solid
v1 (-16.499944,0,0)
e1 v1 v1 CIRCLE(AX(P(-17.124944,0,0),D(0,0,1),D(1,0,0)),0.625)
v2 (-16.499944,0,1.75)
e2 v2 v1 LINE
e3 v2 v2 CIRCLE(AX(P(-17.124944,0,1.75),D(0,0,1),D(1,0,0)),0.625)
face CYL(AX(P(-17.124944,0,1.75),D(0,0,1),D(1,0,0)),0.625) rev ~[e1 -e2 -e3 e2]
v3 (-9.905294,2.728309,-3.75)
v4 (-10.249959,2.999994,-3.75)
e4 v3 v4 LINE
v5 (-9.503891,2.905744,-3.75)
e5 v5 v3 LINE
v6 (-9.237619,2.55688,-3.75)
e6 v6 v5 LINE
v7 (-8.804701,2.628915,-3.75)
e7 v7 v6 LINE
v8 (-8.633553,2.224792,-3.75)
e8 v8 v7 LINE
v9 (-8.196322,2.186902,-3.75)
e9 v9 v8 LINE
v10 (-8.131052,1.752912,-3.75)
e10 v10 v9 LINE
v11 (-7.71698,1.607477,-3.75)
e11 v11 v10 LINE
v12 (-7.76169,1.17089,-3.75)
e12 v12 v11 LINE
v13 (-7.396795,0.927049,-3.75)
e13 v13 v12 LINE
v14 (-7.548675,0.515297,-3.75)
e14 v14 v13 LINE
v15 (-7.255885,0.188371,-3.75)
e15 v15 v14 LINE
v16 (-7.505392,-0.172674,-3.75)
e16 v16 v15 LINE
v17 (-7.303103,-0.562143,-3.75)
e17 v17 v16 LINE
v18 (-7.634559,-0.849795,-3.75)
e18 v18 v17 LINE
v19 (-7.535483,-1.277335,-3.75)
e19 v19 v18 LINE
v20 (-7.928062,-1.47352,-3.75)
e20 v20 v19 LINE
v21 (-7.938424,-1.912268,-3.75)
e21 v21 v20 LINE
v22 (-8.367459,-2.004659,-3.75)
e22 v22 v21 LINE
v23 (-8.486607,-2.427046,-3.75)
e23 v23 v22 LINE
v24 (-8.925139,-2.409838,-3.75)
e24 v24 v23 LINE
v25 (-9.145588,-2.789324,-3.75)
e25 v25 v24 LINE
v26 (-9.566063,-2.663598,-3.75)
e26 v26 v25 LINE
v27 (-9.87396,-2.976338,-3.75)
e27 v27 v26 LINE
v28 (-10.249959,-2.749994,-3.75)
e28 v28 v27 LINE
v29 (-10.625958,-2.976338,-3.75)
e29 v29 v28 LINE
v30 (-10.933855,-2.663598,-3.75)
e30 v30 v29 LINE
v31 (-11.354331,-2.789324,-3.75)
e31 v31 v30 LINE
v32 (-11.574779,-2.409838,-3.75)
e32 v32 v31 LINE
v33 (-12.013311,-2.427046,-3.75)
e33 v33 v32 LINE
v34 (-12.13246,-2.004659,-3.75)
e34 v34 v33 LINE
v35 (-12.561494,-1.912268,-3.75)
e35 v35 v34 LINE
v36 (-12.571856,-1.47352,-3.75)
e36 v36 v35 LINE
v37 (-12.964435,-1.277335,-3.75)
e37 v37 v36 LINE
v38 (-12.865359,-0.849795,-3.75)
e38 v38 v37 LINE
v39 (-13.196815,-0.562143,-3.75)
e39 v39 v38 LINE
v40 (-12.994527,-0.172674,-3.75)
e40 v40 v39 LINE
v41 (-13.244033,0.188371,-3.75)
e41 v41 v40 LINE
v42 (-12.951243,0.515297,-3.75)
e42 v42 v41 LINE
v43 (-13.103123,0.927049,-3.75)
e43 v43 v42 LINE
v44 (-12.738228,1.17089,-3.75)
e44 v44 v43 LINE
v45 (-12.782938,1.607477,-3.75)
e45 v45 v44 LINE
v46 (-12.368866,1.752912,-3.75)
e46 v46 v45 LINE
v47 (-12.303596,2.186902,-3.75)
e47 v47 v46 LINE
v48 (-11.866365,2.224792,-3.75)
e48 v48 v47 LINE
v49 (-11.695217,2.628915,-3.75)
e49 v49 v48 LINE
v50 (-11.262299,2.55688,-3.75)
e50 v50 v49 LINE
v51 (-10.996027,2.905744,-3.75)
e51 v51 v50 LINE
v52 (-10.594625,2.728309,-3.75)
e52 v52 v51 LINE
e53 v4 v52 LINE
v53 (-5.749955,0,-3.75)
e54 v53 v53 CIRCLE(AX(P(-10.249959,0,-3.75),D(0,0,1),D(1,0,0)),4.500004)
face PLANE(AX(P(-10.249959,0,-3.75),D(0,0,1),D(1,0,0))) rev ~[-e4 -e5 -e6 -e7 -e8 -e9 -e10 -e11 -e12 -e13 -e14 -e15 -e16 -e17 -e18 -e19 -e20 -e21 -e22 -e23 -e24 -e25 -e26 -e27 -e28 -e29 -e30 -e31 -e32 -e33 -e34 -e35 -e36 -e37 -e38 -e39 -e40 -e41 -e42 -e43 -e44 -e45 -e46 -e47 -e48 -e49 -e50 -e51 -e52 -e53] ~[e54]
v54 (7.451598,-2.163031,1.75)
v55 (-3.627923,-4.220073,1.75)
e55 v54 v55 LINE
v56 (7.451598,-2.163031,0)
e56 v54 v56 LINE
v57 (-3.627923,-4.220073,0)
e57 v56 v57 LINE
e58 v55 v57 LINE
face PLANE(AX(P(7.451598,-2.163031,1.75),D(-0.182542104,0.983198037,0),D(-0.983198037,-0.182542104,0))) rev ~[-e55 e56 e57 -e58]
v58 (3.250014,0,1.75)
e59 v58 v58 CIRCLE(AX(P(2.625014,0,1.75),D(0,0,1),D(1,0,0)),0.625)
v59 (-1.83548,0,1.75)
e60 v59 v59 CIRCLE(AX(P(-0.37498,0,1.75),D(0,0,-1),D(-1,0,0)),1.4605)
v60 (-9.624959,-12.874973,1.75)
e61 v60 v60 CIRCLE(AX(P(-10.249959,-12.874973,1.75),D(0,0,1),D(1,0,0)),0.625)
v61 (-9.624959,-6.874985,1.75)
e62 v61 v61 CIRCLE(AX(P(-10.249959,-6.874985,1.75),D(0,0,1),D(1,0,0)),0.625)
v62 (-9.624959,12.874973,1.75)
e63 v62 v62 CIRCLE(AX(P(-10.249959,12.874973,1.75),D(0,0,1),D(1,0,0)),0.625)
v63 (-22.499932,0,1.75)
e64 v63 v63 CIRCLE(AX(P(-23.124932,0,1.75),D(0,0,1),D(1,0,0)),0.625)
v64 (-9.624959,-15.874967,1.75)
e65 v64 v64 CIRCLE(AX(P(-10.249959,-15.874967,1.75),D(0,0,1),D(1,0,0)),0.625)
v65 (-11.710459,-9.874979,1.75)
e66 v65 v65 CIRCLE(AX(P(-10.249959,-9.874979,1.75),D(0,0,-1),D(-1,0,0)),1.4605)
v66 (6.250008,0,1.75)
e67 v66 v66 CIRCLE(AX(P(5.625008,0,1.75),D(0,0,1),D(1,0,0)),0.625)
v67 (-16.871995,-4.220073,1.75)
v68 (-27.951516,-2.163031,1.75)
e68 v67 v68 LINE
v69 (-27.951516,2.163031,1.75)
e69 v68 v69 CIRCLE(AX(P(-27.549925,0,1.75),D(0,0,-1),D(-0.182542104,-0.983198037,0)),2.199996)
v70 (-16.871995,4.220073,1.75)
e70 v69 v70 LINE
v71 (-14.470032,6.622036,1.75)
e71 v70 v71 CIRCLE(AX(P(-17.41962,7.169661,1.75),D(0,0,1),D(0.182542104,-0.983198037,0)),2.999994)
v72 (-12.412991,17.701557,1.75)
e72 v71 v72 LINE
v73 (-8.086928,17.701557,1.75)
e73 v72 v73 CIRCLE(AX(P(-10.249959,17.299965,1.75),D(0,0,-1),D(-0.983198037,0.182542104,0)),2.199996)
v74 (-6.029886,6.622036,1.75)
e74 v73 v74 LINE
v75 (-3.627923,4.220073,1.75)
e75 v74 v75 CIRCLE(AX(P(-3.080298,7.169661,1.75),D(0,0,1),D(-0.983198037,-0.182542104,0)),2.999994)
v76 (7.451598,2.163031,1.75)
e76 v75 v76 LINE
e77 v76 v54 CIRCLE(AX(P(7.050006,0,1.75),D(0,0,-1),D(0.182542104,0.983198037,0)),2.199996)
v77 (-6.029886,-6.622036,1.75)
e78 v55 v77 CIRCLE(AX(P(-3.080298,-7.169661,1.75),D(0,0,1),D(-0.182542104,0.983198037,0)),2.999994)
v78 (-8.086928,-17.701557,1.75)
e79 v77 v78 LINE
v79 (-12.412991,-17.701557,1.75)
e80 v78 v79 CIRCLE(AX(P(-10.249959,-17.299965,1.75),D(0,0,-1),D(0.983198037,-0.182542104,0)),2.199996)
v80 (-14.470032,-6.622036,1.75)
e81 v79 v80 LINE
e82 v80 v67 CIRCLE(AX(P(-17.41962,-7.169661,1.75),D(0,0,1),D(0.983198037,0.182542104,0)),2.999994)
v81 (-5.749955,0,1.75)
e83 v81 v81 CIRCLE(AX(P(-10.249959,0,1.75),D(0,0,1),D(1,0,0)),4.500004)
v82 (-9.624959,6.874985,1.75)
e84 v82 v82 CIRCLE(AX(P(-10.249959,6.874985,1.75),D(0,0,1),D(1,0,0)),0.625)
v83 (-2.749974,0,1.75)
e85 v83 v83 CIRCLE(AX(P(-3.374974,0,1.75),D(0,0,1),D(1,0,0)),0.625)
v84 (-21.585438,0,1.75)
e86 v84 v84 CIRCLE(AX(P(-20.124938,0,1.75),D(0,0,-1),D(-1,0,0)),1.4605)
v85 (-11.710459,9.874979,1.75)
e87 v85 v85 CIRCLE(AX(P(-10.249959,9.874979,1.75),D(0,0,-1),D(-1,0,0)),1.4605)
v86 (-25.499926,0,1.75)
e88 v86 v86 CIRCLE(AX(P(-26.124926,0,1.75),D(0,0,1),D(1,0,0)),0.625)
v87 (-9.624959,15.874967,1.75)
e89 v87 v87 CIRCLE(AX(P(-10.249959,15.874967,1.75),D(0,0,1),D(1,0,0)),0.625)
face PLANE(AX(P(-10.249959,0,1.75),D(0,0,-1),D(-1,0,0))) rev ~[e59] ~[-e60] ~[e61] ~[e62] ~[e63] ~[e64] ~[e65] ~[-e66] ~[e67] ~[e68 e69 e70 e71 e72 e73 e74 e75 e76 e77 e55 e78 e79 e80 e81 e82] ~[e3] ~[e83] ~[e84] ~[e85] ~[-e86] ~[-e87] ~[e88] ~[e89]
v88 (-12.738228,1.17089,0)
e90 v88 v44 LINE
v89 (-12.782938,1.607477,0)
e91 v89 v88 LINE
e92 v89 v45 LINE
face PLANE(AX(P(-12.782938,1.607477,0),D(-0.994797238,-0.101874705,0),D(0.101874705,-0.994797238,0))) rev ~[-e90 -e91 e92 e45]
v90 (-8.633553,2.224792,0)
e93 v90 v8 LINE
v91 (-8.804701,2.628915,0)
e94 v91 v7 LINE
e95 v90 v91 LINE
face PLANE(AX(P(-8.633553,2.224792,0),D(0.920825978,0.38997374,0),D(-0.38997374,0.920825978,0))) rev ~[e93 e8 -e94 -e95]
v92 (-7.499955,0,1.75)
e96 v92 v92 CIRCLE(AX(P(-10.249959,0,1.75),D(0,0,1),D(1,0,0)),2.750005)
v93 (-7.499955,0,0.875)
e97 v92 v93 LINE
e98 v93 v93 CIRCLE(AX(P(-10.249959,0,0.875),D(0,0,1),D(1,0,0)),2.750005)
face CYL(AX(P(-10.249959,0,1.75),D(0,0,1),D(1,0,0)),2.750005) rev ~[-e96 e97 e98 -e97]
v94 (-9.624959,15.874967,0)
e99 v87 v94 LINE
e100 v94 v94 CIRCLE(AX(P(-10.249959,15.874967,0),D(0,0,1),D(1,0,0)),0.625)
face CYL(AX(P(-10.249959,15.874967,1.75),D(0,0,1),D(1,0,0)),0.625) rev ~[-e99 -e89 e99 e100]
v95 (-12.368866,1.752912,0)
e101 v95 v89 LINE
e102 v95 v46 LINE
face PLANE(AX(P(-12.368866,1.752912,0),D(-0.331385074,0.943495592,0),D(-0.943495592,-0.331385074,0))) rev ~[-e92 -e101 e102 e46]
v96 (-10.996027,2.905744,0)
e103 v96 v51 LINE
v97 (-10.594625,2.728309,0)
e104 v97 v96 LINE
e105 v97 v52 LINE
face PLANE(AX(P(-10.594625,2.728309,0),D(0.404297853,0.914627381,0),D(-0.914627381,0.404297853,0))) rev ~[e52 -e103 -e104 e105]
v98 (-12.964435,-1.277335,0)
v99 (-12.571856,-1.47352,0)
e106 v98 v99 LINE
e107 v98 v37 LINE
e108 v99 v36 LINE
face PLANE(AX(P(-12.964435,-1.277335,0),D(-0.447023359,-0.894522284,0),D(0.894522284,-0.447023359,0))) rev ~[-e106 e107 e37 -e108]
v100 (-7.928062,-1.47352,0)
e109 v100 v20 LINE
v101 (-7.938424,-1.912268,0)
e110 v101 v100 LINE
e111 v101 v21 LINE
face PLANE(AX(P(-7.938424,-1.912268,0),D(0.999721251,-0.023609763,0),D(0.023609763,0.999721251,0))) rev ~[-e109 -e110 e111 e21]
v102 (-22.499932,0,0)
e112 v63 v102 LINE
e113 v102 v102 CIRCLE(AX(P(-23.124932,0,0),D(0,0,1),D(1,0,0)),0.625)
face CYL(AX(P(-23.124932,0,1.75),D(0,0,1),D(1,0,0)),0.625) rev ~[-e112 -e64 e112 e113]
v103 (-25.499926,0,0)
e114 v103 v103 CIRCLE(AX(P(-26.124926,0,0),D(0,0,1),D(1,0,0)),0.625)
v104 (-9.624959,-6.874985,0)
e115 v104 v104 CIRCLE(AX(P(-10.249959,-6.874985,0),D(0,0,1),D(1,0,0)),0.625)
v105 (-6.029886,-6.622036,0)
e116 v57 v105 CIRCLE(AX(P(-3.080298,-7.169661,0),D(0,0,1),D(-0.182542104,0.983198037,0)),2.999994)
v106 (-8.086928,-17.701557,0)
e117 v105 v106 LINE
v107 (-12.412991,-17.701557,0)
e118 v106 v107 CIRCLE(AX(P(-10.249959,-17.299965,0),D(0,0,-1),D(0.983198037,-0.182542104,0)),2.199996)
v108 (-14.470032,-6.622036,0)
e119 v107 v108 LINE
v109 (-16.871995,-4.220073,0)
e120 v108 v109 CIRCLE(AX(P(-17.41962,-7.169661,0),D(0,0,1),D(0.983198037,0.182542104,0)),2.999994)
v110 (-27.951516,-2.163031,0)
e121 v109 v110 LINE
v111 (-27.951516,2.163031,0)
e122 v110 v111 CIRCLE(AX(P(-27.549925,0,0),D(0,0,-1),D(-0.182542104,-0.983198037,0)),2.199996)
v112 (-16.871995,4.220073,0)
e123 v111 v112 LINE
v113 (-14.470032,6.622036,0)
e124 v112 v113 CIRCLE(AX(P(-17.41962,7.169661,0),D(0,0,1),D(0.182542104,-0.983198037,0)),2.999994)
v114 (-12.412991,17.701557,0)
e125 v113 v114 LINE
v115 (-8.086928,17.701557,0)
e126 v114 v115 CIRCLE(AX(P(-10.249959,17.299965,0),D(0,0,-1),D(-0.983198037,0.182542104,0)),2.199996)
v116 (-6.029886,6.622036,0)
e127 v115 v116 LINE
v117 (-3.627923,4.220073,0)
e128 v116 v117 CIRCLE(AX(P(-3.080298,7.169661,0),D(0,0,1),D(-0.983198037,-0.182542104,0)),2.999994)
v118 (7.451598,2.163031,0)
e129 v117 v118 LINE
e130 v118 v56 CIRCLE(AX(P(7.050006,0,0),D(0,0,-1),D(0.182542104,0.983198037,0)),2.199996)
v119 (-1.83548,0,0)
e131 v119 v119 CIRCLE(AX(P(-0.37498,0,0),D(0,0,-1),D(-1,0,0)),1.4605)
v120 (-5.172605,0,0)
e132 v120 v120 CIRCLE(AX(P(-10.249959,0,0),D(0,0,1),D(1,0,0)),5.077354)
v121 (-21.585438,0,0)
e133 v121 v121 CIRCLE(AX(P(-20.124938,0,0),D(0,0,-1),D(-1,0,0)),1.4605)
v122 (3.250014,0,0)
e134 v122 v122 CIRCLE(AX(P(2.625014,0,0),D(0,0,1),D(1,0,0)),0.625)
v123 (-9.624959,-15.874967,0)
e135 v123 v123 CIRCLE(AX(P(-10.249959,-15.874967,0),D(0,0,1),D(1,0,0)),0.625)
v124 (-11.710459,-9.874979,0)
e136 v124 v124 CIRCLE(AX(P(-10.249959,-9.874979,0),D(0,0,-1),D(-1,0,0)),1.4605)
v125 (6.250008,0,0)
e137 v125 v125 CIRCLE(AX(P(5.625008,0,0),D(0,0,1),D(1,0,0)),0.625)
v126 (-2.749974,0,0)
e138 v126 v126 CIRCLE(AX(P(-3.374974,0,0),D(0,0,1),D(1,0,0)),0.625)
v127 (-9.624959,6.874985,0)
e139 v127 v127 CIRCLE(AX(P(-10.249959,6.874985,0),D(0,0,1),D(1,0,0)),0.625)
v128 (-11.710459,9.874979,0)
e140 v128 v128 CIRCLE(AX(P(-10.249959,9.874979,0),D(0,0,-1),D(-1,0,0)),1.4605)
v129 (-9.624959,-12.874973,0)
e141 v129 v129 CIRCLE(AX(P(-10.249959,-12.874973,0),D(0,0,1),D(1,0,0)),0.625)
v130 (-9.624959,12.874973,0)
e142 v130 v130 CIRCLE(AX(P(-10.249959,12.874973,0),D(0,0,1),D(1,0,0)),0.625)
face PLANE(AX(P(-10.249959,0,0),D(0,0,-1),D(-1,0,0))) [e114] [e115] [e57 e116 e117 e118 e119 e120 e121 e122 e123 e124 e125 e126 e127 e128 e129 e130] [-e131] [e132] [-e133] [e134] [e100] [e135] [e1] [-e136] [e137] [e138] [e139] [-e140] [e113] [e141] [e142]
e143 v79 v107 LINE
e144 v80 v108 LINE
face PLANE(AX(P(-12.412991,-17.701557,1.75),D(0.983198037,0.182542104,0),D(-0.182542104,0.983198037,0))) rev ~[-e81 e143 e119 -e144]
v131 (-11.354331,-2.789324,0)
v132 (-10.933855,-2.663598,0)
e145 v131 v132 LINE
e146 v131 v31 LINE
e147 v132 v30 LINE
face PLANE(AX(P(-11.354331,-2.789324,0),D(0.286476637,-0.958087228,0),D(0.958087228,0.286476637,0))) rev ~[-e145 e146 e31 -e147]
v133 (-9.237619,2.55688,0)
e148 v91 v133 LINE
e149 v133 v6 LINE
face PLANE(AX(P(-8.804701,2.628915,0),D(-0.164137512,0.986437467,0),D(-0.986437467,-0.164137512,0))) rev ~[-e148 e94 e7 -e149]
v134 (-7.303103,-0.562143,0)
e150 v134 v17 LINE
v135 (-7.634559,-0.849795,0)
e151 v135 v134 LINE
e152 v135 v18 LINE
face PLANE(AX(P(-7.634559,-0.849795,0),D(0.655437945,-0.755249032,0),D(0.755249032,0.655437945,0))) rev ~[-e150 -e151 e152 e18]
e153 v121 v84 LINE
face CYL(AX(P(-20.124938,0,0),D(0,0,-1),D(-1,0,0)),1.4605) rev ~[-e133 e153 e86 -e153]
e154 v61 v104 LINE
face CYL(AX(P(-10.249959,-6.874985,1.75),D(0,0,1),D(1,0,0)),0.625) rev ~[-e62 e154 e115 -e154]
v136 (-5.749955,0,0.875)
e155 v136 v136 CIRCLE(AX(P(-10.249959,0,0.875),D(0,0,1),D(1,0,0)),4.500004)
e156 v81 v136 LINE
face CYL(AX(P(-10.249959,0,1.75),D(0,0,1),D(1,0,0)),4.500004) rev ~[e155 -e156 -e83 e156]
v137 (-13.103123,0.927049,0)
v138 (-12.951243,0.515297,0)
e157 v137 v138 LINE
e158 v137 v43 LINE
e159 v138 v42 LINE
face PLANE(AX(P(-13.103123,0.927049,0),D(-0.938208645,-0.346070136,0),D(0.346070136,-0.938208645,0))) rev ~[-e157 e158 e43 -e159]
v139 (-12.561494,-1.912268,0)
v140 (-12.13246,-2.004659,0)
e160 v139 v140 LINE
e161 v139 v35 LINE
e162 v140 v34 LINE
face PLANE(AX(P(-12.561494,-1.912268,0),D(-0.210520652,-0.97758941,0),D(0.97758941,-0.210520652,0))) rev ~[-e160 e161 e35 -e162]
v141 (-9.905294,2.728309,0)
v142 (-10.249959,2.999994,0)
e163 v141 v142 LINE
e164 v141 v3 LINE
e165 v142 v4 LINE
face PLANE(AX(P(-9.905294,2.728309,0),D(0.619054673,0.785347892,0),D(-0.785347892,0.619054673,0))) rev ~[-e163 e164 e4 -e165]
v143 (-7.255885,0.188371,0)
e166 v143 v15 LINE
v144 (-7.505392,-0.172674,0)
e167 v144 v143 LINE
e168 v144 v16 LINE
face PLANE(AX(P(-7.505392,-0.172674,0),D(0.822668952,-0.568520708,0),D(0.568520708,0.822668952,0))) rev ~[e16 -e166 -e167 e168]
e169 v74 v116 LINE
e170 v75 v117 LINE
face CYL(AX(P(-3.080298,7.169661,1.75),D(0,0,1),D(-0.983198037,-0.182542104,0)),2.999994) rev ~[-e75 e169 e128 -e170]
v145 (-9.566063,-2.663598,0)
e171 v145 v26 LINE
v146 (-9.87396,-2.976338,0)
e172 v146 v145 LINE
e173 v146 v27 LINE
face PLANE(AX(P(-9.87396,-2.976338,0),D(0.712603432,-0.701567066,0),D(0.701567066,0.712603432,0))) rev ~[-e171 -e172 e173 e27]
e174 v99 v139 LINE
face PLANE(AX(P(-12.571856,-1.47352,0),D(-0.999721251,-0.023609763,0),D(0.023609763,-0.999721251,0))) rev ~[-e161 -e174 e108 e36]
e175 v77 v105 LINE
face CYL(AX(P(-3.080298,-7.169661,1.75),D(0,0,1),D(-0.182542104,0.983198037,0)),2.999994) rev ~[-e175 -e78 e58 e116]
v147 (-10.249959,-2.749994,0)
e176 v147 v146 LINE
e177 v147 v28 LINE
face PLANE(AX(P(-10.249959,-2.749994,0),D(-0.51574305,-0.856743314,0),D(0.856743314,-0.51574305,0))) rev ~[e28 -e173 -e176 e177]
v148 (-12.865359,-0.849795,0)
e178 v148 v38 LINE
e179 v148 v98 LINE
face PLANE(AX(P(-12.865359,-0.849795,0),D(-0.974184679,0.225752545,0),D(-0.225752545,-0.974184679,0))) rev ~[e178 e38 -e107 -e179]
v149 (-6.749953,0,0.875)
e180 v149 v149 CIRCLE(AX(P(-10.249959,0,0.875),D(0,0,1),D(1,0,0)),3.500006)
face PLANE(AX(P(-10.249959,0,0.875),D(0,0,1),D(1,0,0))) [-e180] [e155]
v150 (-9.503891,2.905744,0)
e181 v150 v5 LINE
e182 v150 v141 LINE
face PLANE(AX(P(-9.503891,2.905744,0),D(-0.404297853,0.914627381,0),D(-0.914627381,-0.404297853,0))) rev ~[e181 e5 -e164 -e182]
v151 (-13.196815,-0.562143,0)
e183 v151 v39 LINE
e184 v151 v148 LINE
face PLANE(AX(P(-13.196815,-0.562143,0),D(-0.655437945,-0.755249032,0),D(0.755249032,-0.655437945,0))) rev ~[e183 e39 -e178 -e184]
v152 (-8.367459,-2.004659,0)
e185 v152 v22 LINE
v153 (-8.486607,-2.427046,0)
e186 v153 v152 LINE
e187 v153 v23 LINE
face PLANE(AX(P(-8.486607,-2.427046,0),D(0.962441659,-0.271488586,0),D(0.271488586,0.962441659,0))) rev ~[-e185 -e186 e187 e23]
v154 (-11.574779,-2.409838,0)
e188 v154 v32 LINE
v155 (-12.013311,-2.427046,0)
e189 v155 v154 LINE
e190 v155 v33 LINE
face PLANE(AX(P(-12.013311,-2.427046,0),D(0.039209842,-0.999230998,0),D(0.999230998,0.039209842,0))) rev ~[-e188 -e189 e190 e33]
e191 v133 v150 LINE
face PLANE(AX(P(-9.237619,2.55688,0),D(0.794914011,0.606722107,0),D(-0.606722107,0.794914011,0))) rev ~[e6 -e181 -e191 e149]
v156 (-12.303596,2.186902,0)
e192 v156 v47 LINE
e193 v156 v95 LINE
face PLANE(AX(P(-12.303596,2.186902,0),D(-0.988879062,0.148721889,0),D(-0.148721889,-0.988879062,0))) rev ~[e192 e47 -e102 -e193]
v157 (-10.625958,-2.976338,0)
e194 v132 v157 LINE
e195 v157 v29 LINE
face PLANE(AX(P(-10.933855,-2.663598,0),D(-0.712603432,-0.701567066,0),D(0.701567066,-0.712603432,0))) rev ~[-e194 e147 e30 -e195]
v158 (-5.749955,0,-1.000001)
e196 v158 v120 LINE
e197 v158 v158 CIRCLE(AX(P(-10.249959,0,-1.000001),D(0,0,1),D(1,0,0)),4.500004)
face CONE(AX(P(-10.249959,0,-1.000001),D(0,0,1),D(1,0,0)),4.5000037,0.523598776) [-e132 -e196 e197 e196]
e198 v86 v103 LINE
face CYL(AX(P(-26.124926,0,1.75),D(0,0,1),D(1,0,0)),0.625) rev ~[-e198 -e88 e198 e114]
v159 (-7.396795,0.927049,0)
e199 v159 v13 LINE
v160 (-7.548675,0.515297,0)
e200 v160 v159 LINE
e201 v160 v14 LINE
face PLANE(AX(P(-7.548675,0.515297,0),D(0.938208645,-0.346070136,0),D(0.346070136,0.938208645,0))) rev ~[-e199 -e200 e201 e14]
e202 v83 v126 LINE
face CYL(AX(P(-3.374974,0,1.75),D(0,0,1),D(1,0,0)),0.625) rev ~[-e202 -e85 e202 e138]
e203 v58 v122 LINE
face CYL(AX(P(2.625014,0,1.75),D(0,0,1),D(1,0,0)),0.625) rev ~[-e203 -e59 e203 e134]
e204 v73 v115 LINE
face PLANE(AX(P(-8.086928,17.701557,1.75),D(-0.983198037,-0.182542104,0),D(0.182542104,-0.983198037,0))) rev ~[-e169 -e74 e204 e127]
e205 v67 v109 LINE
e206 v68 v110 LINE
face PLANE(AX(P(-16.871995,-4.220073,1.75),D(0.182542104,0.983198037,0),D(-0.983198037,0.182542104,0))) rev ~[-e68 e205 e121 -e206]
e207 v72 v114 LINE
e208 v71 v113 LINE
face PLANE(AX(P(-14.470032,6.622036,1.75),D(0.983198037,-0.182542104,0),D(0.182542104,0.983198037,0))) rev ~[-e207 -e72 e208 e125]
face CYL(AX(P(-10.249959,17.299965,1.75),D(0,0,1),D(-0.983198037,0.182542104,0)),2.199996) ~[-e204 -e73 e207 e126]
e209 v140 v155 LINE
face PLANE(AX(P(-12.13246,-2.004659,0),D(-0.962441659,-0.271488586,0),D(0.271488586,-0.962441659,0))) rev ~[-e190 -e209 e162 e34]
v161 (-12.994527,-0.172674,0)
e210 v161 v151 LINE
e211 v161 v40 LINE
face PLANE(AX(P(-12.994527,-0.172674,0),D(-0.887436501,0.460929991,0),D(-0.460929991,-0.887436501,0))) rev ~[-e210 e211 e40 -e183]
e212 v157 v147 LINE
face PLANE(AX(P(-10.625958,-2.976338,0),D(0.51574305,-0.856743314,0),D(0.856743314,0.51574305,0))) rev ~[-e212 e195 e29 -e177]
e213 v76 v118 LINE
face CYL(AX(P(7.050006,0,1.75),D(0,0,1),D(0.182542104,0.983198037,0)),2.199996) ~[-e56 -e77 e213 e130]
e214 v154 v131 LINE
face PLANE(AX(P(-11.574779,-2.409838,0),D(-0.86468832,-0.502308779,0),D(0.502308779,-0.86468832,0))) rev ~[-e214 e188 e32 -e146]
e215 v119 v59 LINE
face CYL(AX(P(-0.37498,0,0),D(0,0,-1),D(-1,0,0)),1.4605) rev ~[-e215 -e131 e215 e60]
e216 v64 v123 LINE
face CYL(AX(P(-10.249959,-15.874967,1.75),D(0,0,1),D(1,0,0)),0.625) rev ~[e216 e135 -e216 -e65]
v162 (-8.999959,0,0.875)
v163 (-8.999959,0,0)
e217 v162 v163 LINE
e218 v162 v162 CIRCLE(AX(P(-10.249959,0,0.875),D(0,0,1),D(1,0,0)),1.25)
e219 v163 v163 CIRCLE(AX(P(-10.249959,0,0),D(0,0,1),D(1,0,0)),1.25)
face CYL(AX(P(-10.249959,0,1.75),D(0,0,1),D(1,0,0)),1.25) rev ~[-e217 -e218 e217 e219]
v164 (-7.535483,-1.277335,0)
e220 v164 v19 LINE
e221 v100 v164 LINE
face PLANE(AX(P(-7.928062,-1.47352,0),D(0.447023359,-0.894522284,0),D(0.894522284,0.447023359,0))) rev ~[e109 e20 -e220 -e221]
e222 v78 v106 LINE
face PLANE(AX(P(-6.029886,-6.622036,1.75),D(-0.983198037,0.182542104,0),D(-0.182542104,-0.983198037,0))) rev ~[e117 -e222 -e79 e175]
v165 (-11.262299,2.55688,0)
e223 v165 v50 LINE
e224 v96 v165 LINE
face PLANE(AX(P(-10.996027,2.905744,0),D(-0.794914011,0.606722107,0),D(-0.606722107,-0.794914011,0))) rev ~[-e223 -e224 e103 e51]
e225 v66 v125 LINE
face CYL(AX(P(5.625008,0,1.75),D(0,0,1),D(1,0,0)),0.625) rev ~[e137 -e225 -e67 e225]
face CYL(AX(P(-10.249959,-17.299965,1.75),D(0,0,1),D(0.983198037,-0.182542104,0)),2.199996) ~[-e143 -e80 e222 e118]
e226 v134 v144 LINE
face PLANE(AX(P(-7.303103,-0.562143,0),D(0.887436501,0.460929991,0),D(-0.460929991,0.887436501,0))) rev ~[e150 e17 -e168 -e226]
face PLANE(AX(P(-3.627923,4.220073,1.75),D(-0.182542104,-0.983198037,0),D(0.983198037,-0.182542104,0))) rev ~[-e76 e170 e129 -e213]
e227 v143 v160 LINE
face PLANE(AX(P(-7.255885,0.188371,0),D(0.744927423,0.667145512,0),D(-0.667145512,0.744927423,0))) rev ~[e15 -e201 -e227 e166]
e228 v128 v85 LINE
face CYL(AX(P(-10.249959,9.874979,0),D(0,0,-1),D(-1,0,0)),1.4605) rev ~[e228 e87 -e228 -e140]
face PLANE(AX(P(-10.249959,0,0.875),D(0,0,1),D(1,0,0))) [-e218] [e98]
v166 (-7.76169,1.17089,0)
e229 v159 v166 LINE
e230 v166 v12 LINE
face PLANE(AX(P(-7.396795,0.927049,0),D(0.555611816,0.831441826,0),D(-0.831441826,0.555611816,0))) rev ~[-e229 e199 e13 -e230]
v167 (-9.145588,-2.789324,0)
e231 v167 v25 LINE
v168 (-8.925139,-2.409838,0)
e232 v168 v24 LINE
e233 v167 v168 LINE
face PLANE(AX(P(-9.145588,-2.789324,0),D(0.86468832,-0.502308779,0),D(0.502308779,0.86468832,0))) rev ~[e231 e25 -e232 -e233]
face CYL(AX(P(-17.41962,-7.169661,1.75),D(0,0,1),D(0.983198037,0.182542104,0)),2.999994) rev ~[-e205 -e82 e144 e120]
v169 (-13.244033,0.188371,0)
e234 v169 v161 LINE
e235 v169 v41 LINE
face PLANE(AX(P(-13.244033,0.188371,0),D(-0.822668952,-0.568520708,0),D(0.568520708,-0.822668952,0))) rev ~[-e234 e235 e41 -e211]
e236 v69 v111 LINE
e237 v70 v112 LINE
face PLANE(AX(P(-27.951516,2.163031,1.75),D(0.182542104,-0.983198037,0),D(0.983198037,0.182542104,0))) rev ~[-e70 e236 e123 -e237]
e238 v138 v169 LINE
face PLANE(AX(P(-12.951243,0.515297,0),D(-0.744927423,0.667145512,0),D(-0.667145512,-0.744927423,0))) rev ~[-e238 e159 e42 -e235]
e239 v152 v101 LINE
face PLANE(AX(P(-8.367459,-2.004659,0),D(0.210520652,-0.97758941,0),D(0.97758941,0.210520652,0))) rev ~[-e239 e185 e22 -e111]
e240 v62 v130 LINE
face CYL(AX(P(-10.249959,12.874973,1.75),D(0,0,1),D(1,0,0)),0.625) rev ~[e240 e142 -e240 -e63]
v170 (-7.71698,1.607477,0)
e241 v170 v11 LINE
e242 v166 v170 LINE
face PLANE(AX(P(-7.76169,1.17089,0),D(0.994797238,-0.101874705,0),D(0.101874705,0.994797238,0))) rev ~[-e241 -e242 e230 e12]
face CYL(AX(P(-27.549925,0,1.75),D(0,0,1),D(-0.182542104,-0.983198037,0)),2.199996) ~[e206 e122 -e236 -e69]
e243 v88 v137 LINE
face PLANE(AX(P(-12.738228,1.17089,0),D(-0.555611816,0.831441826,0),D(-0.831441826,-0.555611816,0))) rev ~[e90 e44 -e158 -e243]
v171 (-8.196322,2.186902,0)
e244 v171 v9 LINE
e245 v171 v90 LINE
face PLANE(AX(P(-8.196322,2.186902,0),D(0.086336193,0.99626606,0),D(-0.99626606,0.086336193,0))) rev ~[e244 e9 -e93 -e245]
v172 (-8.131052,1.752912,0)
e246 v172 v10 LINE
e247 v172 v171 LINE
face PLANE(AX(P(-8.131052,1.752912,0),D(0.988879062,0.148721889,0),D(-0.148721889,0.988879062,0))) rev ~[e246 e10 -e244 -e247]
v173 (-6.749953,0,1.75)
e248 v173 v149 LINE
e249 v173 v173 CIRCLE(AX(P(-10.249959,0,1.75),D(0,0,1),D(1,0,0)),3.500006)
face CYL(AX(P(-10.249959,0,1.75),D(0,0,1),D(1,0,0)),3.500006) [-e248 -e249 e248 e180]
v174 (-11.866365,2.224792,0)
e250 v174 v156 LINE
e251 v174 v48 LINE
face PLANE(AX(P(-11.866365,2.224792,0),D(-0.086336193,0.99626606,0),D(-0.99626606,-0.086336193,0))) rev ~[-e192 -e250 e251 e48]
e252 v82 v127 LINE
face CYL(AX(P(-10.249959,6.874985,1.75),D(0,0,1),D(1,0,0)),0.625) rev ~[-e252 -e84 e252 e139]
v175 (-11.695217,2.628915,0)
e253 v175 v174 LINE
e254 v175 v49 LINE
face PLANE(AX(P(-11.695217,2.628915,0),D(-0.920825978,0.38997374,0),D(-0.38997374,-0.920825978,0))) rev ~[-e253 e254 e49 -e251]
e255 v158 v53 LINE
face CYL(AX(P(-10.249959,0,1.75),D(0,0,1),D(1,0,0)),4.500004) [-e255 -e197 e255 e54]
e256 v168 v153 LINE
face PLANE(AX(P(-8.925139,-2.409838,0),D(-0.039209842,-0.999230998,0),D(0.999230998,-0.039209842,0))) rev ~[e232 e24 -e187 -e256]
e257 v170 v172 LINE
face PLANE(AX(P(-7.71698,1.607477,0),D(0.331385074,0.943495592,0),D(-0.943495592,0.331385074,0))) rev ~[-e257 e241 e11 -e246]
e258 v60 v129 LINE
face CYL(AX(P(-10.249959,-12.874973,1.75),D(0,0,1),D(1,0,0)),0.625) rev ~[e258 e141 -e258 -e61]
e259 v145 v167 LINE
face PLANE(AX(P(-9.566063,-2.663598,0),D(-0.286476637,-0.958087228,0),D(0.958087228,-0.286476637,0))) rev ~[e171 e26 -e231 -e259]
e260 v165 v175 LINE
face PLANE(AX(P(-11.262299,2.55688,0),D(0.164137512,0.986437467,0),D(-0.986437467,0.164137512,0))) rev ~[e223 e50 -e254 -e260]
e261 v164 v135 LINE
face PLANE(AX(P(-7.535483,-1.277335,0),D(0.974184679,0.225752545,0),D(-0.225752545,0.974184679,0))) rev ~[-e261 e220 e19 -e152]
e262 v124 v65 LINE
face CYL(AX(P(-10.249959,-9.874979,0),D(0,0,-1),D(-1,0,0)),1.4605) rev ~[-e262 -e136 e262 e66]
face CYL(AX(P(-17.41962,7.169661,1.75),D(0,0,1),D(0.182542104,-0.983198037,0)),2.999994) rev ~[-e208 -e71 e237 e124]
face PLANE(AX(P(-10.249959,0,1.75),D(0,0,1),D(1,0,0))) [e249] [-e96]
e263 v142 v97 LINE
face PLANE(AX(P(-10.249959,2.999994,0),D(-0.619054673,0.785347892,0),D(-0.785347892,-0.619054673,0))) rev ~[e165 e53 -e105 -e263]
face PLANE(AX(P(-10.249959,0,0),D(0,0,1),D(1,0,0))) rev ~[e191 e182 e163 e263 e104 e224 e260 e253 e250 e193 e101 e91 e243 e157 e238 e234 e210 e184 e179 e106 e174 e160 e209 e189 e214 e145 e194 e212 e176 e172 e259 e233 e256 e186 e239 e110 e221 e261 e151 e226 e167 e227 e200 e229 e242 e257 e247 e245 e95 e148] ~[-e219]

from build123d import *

# Parameters (mm, degrees)
SKETCH1_R           = 4.5000037
BOSS_EXTRUDE1_DEPTH = 3.75000012
BOSS_EXTRUDE2_START = 1.750000056
SKETCH2_R           = 4.5000037
SKETCH2_R_2         = 3.499999998
SKETCH2_R_3         = 1.25000004
BOSS_EXTRUDE2_DEPTH = 1.750000056
SKETCH4_R           = 2.75000466
SKETCH4_R_2         = 1.25000004
CUT_EXTRUDE1_DEPTH  = 0.875000028
SKETCH6_R           = 4.5000037
SKETCH6_R_2         = 3.5000057
CUT_EXTRUDE2_DEPTH  = 0.875000028
SKETCH10_R          = 0.62500002
SKETCH10_R_2        = 4.5000037
BOSS_EXTRUDE4_DEPTH = 1.750000056
CHAMFER2_SIZE       = 1.00000054
CHAMFER2_SIZE2      = 0.577350581
SKETCH32_R          = 1.4605
CUT_EXTRUDE8_DEPTH  = 36.768264294


with BuildPart() as part:
    # Sketch1 → Boss-Extrude1 (new body)
    with BuildSketch(Plane.XY):
        with Locations((-10.24995918, 0)):
            Circle(SKETCH1_R)
        Polygon((-10.24995918, 2.999994), (-10.594624819, 2.728309468), (-10.996027349, 2.905743672), (-11.262299488, 2.55687975), (-11.695217312, 2.628914782), (-11.866365092, 2.224791874), (-12.303596391, 2.186901508), (-12.368865968, 1.752912142), (-12.782937891, 1.60747717), (-12.738228138, 1.170890494), (-13.103123023, 0.927049129), (-12.951243218, 0.515297489), (-13.244033377, 0.188371182), (-12.994526687, -0.172673551), (-13.196815038, -0.562142819), (-12.865358886, -0.849794878), (-12.964434908, -1.27733532), (-12.571855902, -1.473520467), (-12.561494285, -1.912268145), (-12.132459609, -2.004659346), (-12.01331141, -2.427046129), (-11.574778889, -2.409838105), (-11.354330629, -2.789323879), (-10.933854876, -2.663597874), (-10.625958129, -2.976338151), (-10.24995918, -2.749993992), (-9.873960231, -2.976338151), (-9.566063484, -2.663597874), (-9.145587731, -2.789323879), (-8.925139471, -2.409838105), (-8.48660695, -2.427046129), (-8.367458751, -2.004659346), (-7.938424075, -1.912268145), (-7.928062458, -1.473520467), (-7.535483452, -1.27733532), (-7.634559474, -0.849794878), (-7.303103322, -0.562142819), (-7.505391673, -0.172673551), (-7.255884983, 0.188371182), (-7.548675142, 0.515297489), (-7.396795337, 0.927049129), (-7.761690222, 1.170890494), (-7.716980469, 1.60747717), (-8.131052392, 1.752912142), (-8.196321969, 2.186901508), (-8.633553268, 2.224791874), (-8.804701048, 2.628914782), (-9.237618872, 2.55687975), (-9.503891011, 2.905743672), (-9.905293541, 2.728309468), align=None, mode=Mode.SUBTRACT)
    extrude(amount=-BOSS_EXTRUDE1_DEPTH)

    # Sketch2 → Boss-Extrude2 (add)
    # profile 1 of 2: a face of its own
    with BuildSketch(Plane.XY.offset(BOSS_EXTRUDE2_START)):
        with Locations((-10.24995918, 0)):
            Circle(SKETCH2_R)
        with Locations((-10.24995918, 0)):
            Circle(SKETCH2_R_2, mode=Mode.SUBTRACT)
    # profile 2 of 2: a face of its own
    with BuildSketch(Plane.XY.offset(BOSS_EXTRUDE2_START)):
        with Locations((-10.24995918, 0)):
            Circle(SKETCH2_R_2)
        with Locations((-10.24995918, 0)):
            Circle(SKETCH2_R_3, mode=Mode.SUBTRACT)
    extrude(amount=-BOSS_EXTRUDE2_DEPTH)

    # Sketch4 → Cut-Extrude1 (cut)
    with BuildSketch(Plane.XY.offset(1.750000056)):
        with Locations((-10.24995918, 0)):
            Circle(SKETCH4_R)
        with Locations((-10.24995918, 0)):
            Circle(SKETCH4_R_2, mode=Mode.SUBTRACT)
    extrude(amount=-CUT_EXTRUDE1_DEPTH, mode=Mode.SUBTRACT)

    # Sketch6 → Cut-Extrude2 (cut)
    with BuildSketch(Plane.XY.offset(1.750000056)):
        with Locations((-10.24995918, 0)):
            Circle(SKETCH6_R)
        with Locations((-10.24995918, 0)):
            Circle(SKETCH6_R_2, mode=Mode.SUBTRACT)
    extrude(amount=-CUT_EXTRUDE2_DEPTH, mode=Mode.SUBTRACT)

    # Sketch10 → Boss-Extrude4 (add)
    with BuildSketch(Plane.XY.offset(1.750000056)):
        with BuildLine():
            Line((-8.086927824, 17.701557226), (-6.029886341, 6.622035833))
            ThreePointArc((-6.029886341, 6.622035833), (-5.20161423, 5.04834495), (-3.627923347, 4.220072839))
            Line((-3.627923347, 4.220072839), (7.451598046, 2.163031356))
            ThreePointArc((7.451598046, 2.163031356), (9.25000182, 0), (7.451598046, -2.163031356))
            Line((7.451598046, -2.163031356), (-3.627923347, -4.220072839))
            ThreePointArc((-3.627923347, -4.220072839), (-5.20161423, -5.04834495), (-6.029886341, -6.622035833))
            Line((-6.029886341, -6.622035833), (-8.086927824, -17.701557226))
            ThreePointArc((-8.086927824, -17.701557226), (-10.24995918, -19.499961), (-12.412990536, -17.701557226))
            Line((-12.412990536, -17.701557226), (-14.470032019, -6.622035833))
            ThreePointArc((-14.470032019, -6.622035833), (-15.29830413, -5.04834495), (-16.871995013, -4.220072839))
            Line((-16.871995013, -4.220072839), (-27.951516406, -2.163031356))
            ThreePointArc((-27.951516406, -2.163031356), (-29.74992018, 0), (-27.951516406, 2.163031356))
            Line((-27.951516406, 2.163031356), (-16.871995013, 4.220072839))
            ThreePointArc((-16.871995013, 4.220072839), (-15.29830413, 5.04834495), (-14.470032019, 6.622035833))
            Line((-14.470032019, 6.622035833), (-12.412990536, 17.701557226))
            ThreePointArc((-12.412990536, 17.701557226), (-10.24995918, 19.499961), (-8.086927824, 17.701557226))
        make_face()
        with Locations((-10.24995918, 15.87496698)):
            Circle(SKETCH10_R, mode=Mode.SUBTRACT)
        with Locations((-10.24995918, 12.87497298)):
            Circle(SKETCH10_R, mode=Mode.SUBTRACT)
        with Locations((-10.24995918, 9.87497898)):
            Circle(SKETCH10_R, mode=Mode.SUBTRACT)
        with Locations((-10.24995918, 6.87498498)):
            Circle(SKETCH10_R, mode=Mode.SUBTRACT)
        with Locations((5.6250078, 0)):
            Circle(SKETCH10_R, mode=Mode.SUBTRACT)
        with Locations((2.6250138, 0)):
            Circle(SKETCH10_R, mode=Mode.SUBTRACT)
        with Locations((-0.3749802, 0)):
            Circle(SKETCH10_R, mode=Mode.SUBTRACT)
        with Locations((-3.3749742, 0)):
            Circle(SKETCH10_R, mode=Mode.SUBTRACT)
        with Locations((-10.24995918, -15.87496698)):
            Circle(SKETCH10_R, mode=Mode.SUBTRACT)
        with Locations((-10.24995918, -12.87497298)):
            Circle(SKETCH10_R, mode=Mode.SUBTRACT)
        with Locations((-10.24995918, -9.87497898)):
            Circle(SKETCH10_R, mode=Mode.SUBTRACT)
        with Locations((-10.24995918, -6.87498498)):
            Circle(SKETCH10_R, mode=Mode.SUBTRACT)
        with Locations((-26.12492616, 0)):
            Circle(SKETCH10_R, mode=Mode.SUBTRACT)
        with Locations((-23.12493216, 0)):
            Circle(SKETCH10_R, mode=Mode.SUBTRACT)
        with Locations((-20.12493816, 0)):
            Circle(SKETCH10_R, mode=Mode.SUBTRACT)
        with Locations((-17.12494416, 0)):
            Circle(SKETCH10_R, mode=Mode.SUBTRACT)
        with Locations((-10.24995918, 0)):
            Circle(SKETCH10_R_2, mode=Mode.SUBTRACT)
    extrude(amount=-BOSS_EXTRUDE4_DEPTH)

    # Chamfer2
    chamfer2_edges = [part.edges().sort_by_distance(p)[0] for p in [
        (-14.74996288, 0, 0),
    ]]
    chamfer2_side = [part.faces().sort_by_distance(p)[0] for p in [
        (-14.74996288, 0, -1.87500006),
    ]]
    chamfer(chamfer2_edges, length=CHAMFER2_SIZE, length2=CHAMFER2_SIZE2, reference=chamfer2_side[0])

    # Sketch32 → Cut-Extrude8 (cut, through all)
    with BuildSketch(Plane(origin=(0, 0, 0), x_dir=(-1, 0, 0), z_dir=(0, 0, -1))):
        with Locations((20.12493816, 0)):
            Circle(SKETCH32_R)
        with Locations((10.24995918, -9.87497898)):
            Circle(SKETCH32_R)
        with Locations((0.3749802, 0)):
            Circle(SKETCH32_R)
        with Locations((10.24995918, 9.87497898)):
            Circle(SKETCH32_R)
    extrude(amount=-CUT_EXTRUDE8_DEPTH, mode=Mode.SUBTRACT)


solid = part.part
